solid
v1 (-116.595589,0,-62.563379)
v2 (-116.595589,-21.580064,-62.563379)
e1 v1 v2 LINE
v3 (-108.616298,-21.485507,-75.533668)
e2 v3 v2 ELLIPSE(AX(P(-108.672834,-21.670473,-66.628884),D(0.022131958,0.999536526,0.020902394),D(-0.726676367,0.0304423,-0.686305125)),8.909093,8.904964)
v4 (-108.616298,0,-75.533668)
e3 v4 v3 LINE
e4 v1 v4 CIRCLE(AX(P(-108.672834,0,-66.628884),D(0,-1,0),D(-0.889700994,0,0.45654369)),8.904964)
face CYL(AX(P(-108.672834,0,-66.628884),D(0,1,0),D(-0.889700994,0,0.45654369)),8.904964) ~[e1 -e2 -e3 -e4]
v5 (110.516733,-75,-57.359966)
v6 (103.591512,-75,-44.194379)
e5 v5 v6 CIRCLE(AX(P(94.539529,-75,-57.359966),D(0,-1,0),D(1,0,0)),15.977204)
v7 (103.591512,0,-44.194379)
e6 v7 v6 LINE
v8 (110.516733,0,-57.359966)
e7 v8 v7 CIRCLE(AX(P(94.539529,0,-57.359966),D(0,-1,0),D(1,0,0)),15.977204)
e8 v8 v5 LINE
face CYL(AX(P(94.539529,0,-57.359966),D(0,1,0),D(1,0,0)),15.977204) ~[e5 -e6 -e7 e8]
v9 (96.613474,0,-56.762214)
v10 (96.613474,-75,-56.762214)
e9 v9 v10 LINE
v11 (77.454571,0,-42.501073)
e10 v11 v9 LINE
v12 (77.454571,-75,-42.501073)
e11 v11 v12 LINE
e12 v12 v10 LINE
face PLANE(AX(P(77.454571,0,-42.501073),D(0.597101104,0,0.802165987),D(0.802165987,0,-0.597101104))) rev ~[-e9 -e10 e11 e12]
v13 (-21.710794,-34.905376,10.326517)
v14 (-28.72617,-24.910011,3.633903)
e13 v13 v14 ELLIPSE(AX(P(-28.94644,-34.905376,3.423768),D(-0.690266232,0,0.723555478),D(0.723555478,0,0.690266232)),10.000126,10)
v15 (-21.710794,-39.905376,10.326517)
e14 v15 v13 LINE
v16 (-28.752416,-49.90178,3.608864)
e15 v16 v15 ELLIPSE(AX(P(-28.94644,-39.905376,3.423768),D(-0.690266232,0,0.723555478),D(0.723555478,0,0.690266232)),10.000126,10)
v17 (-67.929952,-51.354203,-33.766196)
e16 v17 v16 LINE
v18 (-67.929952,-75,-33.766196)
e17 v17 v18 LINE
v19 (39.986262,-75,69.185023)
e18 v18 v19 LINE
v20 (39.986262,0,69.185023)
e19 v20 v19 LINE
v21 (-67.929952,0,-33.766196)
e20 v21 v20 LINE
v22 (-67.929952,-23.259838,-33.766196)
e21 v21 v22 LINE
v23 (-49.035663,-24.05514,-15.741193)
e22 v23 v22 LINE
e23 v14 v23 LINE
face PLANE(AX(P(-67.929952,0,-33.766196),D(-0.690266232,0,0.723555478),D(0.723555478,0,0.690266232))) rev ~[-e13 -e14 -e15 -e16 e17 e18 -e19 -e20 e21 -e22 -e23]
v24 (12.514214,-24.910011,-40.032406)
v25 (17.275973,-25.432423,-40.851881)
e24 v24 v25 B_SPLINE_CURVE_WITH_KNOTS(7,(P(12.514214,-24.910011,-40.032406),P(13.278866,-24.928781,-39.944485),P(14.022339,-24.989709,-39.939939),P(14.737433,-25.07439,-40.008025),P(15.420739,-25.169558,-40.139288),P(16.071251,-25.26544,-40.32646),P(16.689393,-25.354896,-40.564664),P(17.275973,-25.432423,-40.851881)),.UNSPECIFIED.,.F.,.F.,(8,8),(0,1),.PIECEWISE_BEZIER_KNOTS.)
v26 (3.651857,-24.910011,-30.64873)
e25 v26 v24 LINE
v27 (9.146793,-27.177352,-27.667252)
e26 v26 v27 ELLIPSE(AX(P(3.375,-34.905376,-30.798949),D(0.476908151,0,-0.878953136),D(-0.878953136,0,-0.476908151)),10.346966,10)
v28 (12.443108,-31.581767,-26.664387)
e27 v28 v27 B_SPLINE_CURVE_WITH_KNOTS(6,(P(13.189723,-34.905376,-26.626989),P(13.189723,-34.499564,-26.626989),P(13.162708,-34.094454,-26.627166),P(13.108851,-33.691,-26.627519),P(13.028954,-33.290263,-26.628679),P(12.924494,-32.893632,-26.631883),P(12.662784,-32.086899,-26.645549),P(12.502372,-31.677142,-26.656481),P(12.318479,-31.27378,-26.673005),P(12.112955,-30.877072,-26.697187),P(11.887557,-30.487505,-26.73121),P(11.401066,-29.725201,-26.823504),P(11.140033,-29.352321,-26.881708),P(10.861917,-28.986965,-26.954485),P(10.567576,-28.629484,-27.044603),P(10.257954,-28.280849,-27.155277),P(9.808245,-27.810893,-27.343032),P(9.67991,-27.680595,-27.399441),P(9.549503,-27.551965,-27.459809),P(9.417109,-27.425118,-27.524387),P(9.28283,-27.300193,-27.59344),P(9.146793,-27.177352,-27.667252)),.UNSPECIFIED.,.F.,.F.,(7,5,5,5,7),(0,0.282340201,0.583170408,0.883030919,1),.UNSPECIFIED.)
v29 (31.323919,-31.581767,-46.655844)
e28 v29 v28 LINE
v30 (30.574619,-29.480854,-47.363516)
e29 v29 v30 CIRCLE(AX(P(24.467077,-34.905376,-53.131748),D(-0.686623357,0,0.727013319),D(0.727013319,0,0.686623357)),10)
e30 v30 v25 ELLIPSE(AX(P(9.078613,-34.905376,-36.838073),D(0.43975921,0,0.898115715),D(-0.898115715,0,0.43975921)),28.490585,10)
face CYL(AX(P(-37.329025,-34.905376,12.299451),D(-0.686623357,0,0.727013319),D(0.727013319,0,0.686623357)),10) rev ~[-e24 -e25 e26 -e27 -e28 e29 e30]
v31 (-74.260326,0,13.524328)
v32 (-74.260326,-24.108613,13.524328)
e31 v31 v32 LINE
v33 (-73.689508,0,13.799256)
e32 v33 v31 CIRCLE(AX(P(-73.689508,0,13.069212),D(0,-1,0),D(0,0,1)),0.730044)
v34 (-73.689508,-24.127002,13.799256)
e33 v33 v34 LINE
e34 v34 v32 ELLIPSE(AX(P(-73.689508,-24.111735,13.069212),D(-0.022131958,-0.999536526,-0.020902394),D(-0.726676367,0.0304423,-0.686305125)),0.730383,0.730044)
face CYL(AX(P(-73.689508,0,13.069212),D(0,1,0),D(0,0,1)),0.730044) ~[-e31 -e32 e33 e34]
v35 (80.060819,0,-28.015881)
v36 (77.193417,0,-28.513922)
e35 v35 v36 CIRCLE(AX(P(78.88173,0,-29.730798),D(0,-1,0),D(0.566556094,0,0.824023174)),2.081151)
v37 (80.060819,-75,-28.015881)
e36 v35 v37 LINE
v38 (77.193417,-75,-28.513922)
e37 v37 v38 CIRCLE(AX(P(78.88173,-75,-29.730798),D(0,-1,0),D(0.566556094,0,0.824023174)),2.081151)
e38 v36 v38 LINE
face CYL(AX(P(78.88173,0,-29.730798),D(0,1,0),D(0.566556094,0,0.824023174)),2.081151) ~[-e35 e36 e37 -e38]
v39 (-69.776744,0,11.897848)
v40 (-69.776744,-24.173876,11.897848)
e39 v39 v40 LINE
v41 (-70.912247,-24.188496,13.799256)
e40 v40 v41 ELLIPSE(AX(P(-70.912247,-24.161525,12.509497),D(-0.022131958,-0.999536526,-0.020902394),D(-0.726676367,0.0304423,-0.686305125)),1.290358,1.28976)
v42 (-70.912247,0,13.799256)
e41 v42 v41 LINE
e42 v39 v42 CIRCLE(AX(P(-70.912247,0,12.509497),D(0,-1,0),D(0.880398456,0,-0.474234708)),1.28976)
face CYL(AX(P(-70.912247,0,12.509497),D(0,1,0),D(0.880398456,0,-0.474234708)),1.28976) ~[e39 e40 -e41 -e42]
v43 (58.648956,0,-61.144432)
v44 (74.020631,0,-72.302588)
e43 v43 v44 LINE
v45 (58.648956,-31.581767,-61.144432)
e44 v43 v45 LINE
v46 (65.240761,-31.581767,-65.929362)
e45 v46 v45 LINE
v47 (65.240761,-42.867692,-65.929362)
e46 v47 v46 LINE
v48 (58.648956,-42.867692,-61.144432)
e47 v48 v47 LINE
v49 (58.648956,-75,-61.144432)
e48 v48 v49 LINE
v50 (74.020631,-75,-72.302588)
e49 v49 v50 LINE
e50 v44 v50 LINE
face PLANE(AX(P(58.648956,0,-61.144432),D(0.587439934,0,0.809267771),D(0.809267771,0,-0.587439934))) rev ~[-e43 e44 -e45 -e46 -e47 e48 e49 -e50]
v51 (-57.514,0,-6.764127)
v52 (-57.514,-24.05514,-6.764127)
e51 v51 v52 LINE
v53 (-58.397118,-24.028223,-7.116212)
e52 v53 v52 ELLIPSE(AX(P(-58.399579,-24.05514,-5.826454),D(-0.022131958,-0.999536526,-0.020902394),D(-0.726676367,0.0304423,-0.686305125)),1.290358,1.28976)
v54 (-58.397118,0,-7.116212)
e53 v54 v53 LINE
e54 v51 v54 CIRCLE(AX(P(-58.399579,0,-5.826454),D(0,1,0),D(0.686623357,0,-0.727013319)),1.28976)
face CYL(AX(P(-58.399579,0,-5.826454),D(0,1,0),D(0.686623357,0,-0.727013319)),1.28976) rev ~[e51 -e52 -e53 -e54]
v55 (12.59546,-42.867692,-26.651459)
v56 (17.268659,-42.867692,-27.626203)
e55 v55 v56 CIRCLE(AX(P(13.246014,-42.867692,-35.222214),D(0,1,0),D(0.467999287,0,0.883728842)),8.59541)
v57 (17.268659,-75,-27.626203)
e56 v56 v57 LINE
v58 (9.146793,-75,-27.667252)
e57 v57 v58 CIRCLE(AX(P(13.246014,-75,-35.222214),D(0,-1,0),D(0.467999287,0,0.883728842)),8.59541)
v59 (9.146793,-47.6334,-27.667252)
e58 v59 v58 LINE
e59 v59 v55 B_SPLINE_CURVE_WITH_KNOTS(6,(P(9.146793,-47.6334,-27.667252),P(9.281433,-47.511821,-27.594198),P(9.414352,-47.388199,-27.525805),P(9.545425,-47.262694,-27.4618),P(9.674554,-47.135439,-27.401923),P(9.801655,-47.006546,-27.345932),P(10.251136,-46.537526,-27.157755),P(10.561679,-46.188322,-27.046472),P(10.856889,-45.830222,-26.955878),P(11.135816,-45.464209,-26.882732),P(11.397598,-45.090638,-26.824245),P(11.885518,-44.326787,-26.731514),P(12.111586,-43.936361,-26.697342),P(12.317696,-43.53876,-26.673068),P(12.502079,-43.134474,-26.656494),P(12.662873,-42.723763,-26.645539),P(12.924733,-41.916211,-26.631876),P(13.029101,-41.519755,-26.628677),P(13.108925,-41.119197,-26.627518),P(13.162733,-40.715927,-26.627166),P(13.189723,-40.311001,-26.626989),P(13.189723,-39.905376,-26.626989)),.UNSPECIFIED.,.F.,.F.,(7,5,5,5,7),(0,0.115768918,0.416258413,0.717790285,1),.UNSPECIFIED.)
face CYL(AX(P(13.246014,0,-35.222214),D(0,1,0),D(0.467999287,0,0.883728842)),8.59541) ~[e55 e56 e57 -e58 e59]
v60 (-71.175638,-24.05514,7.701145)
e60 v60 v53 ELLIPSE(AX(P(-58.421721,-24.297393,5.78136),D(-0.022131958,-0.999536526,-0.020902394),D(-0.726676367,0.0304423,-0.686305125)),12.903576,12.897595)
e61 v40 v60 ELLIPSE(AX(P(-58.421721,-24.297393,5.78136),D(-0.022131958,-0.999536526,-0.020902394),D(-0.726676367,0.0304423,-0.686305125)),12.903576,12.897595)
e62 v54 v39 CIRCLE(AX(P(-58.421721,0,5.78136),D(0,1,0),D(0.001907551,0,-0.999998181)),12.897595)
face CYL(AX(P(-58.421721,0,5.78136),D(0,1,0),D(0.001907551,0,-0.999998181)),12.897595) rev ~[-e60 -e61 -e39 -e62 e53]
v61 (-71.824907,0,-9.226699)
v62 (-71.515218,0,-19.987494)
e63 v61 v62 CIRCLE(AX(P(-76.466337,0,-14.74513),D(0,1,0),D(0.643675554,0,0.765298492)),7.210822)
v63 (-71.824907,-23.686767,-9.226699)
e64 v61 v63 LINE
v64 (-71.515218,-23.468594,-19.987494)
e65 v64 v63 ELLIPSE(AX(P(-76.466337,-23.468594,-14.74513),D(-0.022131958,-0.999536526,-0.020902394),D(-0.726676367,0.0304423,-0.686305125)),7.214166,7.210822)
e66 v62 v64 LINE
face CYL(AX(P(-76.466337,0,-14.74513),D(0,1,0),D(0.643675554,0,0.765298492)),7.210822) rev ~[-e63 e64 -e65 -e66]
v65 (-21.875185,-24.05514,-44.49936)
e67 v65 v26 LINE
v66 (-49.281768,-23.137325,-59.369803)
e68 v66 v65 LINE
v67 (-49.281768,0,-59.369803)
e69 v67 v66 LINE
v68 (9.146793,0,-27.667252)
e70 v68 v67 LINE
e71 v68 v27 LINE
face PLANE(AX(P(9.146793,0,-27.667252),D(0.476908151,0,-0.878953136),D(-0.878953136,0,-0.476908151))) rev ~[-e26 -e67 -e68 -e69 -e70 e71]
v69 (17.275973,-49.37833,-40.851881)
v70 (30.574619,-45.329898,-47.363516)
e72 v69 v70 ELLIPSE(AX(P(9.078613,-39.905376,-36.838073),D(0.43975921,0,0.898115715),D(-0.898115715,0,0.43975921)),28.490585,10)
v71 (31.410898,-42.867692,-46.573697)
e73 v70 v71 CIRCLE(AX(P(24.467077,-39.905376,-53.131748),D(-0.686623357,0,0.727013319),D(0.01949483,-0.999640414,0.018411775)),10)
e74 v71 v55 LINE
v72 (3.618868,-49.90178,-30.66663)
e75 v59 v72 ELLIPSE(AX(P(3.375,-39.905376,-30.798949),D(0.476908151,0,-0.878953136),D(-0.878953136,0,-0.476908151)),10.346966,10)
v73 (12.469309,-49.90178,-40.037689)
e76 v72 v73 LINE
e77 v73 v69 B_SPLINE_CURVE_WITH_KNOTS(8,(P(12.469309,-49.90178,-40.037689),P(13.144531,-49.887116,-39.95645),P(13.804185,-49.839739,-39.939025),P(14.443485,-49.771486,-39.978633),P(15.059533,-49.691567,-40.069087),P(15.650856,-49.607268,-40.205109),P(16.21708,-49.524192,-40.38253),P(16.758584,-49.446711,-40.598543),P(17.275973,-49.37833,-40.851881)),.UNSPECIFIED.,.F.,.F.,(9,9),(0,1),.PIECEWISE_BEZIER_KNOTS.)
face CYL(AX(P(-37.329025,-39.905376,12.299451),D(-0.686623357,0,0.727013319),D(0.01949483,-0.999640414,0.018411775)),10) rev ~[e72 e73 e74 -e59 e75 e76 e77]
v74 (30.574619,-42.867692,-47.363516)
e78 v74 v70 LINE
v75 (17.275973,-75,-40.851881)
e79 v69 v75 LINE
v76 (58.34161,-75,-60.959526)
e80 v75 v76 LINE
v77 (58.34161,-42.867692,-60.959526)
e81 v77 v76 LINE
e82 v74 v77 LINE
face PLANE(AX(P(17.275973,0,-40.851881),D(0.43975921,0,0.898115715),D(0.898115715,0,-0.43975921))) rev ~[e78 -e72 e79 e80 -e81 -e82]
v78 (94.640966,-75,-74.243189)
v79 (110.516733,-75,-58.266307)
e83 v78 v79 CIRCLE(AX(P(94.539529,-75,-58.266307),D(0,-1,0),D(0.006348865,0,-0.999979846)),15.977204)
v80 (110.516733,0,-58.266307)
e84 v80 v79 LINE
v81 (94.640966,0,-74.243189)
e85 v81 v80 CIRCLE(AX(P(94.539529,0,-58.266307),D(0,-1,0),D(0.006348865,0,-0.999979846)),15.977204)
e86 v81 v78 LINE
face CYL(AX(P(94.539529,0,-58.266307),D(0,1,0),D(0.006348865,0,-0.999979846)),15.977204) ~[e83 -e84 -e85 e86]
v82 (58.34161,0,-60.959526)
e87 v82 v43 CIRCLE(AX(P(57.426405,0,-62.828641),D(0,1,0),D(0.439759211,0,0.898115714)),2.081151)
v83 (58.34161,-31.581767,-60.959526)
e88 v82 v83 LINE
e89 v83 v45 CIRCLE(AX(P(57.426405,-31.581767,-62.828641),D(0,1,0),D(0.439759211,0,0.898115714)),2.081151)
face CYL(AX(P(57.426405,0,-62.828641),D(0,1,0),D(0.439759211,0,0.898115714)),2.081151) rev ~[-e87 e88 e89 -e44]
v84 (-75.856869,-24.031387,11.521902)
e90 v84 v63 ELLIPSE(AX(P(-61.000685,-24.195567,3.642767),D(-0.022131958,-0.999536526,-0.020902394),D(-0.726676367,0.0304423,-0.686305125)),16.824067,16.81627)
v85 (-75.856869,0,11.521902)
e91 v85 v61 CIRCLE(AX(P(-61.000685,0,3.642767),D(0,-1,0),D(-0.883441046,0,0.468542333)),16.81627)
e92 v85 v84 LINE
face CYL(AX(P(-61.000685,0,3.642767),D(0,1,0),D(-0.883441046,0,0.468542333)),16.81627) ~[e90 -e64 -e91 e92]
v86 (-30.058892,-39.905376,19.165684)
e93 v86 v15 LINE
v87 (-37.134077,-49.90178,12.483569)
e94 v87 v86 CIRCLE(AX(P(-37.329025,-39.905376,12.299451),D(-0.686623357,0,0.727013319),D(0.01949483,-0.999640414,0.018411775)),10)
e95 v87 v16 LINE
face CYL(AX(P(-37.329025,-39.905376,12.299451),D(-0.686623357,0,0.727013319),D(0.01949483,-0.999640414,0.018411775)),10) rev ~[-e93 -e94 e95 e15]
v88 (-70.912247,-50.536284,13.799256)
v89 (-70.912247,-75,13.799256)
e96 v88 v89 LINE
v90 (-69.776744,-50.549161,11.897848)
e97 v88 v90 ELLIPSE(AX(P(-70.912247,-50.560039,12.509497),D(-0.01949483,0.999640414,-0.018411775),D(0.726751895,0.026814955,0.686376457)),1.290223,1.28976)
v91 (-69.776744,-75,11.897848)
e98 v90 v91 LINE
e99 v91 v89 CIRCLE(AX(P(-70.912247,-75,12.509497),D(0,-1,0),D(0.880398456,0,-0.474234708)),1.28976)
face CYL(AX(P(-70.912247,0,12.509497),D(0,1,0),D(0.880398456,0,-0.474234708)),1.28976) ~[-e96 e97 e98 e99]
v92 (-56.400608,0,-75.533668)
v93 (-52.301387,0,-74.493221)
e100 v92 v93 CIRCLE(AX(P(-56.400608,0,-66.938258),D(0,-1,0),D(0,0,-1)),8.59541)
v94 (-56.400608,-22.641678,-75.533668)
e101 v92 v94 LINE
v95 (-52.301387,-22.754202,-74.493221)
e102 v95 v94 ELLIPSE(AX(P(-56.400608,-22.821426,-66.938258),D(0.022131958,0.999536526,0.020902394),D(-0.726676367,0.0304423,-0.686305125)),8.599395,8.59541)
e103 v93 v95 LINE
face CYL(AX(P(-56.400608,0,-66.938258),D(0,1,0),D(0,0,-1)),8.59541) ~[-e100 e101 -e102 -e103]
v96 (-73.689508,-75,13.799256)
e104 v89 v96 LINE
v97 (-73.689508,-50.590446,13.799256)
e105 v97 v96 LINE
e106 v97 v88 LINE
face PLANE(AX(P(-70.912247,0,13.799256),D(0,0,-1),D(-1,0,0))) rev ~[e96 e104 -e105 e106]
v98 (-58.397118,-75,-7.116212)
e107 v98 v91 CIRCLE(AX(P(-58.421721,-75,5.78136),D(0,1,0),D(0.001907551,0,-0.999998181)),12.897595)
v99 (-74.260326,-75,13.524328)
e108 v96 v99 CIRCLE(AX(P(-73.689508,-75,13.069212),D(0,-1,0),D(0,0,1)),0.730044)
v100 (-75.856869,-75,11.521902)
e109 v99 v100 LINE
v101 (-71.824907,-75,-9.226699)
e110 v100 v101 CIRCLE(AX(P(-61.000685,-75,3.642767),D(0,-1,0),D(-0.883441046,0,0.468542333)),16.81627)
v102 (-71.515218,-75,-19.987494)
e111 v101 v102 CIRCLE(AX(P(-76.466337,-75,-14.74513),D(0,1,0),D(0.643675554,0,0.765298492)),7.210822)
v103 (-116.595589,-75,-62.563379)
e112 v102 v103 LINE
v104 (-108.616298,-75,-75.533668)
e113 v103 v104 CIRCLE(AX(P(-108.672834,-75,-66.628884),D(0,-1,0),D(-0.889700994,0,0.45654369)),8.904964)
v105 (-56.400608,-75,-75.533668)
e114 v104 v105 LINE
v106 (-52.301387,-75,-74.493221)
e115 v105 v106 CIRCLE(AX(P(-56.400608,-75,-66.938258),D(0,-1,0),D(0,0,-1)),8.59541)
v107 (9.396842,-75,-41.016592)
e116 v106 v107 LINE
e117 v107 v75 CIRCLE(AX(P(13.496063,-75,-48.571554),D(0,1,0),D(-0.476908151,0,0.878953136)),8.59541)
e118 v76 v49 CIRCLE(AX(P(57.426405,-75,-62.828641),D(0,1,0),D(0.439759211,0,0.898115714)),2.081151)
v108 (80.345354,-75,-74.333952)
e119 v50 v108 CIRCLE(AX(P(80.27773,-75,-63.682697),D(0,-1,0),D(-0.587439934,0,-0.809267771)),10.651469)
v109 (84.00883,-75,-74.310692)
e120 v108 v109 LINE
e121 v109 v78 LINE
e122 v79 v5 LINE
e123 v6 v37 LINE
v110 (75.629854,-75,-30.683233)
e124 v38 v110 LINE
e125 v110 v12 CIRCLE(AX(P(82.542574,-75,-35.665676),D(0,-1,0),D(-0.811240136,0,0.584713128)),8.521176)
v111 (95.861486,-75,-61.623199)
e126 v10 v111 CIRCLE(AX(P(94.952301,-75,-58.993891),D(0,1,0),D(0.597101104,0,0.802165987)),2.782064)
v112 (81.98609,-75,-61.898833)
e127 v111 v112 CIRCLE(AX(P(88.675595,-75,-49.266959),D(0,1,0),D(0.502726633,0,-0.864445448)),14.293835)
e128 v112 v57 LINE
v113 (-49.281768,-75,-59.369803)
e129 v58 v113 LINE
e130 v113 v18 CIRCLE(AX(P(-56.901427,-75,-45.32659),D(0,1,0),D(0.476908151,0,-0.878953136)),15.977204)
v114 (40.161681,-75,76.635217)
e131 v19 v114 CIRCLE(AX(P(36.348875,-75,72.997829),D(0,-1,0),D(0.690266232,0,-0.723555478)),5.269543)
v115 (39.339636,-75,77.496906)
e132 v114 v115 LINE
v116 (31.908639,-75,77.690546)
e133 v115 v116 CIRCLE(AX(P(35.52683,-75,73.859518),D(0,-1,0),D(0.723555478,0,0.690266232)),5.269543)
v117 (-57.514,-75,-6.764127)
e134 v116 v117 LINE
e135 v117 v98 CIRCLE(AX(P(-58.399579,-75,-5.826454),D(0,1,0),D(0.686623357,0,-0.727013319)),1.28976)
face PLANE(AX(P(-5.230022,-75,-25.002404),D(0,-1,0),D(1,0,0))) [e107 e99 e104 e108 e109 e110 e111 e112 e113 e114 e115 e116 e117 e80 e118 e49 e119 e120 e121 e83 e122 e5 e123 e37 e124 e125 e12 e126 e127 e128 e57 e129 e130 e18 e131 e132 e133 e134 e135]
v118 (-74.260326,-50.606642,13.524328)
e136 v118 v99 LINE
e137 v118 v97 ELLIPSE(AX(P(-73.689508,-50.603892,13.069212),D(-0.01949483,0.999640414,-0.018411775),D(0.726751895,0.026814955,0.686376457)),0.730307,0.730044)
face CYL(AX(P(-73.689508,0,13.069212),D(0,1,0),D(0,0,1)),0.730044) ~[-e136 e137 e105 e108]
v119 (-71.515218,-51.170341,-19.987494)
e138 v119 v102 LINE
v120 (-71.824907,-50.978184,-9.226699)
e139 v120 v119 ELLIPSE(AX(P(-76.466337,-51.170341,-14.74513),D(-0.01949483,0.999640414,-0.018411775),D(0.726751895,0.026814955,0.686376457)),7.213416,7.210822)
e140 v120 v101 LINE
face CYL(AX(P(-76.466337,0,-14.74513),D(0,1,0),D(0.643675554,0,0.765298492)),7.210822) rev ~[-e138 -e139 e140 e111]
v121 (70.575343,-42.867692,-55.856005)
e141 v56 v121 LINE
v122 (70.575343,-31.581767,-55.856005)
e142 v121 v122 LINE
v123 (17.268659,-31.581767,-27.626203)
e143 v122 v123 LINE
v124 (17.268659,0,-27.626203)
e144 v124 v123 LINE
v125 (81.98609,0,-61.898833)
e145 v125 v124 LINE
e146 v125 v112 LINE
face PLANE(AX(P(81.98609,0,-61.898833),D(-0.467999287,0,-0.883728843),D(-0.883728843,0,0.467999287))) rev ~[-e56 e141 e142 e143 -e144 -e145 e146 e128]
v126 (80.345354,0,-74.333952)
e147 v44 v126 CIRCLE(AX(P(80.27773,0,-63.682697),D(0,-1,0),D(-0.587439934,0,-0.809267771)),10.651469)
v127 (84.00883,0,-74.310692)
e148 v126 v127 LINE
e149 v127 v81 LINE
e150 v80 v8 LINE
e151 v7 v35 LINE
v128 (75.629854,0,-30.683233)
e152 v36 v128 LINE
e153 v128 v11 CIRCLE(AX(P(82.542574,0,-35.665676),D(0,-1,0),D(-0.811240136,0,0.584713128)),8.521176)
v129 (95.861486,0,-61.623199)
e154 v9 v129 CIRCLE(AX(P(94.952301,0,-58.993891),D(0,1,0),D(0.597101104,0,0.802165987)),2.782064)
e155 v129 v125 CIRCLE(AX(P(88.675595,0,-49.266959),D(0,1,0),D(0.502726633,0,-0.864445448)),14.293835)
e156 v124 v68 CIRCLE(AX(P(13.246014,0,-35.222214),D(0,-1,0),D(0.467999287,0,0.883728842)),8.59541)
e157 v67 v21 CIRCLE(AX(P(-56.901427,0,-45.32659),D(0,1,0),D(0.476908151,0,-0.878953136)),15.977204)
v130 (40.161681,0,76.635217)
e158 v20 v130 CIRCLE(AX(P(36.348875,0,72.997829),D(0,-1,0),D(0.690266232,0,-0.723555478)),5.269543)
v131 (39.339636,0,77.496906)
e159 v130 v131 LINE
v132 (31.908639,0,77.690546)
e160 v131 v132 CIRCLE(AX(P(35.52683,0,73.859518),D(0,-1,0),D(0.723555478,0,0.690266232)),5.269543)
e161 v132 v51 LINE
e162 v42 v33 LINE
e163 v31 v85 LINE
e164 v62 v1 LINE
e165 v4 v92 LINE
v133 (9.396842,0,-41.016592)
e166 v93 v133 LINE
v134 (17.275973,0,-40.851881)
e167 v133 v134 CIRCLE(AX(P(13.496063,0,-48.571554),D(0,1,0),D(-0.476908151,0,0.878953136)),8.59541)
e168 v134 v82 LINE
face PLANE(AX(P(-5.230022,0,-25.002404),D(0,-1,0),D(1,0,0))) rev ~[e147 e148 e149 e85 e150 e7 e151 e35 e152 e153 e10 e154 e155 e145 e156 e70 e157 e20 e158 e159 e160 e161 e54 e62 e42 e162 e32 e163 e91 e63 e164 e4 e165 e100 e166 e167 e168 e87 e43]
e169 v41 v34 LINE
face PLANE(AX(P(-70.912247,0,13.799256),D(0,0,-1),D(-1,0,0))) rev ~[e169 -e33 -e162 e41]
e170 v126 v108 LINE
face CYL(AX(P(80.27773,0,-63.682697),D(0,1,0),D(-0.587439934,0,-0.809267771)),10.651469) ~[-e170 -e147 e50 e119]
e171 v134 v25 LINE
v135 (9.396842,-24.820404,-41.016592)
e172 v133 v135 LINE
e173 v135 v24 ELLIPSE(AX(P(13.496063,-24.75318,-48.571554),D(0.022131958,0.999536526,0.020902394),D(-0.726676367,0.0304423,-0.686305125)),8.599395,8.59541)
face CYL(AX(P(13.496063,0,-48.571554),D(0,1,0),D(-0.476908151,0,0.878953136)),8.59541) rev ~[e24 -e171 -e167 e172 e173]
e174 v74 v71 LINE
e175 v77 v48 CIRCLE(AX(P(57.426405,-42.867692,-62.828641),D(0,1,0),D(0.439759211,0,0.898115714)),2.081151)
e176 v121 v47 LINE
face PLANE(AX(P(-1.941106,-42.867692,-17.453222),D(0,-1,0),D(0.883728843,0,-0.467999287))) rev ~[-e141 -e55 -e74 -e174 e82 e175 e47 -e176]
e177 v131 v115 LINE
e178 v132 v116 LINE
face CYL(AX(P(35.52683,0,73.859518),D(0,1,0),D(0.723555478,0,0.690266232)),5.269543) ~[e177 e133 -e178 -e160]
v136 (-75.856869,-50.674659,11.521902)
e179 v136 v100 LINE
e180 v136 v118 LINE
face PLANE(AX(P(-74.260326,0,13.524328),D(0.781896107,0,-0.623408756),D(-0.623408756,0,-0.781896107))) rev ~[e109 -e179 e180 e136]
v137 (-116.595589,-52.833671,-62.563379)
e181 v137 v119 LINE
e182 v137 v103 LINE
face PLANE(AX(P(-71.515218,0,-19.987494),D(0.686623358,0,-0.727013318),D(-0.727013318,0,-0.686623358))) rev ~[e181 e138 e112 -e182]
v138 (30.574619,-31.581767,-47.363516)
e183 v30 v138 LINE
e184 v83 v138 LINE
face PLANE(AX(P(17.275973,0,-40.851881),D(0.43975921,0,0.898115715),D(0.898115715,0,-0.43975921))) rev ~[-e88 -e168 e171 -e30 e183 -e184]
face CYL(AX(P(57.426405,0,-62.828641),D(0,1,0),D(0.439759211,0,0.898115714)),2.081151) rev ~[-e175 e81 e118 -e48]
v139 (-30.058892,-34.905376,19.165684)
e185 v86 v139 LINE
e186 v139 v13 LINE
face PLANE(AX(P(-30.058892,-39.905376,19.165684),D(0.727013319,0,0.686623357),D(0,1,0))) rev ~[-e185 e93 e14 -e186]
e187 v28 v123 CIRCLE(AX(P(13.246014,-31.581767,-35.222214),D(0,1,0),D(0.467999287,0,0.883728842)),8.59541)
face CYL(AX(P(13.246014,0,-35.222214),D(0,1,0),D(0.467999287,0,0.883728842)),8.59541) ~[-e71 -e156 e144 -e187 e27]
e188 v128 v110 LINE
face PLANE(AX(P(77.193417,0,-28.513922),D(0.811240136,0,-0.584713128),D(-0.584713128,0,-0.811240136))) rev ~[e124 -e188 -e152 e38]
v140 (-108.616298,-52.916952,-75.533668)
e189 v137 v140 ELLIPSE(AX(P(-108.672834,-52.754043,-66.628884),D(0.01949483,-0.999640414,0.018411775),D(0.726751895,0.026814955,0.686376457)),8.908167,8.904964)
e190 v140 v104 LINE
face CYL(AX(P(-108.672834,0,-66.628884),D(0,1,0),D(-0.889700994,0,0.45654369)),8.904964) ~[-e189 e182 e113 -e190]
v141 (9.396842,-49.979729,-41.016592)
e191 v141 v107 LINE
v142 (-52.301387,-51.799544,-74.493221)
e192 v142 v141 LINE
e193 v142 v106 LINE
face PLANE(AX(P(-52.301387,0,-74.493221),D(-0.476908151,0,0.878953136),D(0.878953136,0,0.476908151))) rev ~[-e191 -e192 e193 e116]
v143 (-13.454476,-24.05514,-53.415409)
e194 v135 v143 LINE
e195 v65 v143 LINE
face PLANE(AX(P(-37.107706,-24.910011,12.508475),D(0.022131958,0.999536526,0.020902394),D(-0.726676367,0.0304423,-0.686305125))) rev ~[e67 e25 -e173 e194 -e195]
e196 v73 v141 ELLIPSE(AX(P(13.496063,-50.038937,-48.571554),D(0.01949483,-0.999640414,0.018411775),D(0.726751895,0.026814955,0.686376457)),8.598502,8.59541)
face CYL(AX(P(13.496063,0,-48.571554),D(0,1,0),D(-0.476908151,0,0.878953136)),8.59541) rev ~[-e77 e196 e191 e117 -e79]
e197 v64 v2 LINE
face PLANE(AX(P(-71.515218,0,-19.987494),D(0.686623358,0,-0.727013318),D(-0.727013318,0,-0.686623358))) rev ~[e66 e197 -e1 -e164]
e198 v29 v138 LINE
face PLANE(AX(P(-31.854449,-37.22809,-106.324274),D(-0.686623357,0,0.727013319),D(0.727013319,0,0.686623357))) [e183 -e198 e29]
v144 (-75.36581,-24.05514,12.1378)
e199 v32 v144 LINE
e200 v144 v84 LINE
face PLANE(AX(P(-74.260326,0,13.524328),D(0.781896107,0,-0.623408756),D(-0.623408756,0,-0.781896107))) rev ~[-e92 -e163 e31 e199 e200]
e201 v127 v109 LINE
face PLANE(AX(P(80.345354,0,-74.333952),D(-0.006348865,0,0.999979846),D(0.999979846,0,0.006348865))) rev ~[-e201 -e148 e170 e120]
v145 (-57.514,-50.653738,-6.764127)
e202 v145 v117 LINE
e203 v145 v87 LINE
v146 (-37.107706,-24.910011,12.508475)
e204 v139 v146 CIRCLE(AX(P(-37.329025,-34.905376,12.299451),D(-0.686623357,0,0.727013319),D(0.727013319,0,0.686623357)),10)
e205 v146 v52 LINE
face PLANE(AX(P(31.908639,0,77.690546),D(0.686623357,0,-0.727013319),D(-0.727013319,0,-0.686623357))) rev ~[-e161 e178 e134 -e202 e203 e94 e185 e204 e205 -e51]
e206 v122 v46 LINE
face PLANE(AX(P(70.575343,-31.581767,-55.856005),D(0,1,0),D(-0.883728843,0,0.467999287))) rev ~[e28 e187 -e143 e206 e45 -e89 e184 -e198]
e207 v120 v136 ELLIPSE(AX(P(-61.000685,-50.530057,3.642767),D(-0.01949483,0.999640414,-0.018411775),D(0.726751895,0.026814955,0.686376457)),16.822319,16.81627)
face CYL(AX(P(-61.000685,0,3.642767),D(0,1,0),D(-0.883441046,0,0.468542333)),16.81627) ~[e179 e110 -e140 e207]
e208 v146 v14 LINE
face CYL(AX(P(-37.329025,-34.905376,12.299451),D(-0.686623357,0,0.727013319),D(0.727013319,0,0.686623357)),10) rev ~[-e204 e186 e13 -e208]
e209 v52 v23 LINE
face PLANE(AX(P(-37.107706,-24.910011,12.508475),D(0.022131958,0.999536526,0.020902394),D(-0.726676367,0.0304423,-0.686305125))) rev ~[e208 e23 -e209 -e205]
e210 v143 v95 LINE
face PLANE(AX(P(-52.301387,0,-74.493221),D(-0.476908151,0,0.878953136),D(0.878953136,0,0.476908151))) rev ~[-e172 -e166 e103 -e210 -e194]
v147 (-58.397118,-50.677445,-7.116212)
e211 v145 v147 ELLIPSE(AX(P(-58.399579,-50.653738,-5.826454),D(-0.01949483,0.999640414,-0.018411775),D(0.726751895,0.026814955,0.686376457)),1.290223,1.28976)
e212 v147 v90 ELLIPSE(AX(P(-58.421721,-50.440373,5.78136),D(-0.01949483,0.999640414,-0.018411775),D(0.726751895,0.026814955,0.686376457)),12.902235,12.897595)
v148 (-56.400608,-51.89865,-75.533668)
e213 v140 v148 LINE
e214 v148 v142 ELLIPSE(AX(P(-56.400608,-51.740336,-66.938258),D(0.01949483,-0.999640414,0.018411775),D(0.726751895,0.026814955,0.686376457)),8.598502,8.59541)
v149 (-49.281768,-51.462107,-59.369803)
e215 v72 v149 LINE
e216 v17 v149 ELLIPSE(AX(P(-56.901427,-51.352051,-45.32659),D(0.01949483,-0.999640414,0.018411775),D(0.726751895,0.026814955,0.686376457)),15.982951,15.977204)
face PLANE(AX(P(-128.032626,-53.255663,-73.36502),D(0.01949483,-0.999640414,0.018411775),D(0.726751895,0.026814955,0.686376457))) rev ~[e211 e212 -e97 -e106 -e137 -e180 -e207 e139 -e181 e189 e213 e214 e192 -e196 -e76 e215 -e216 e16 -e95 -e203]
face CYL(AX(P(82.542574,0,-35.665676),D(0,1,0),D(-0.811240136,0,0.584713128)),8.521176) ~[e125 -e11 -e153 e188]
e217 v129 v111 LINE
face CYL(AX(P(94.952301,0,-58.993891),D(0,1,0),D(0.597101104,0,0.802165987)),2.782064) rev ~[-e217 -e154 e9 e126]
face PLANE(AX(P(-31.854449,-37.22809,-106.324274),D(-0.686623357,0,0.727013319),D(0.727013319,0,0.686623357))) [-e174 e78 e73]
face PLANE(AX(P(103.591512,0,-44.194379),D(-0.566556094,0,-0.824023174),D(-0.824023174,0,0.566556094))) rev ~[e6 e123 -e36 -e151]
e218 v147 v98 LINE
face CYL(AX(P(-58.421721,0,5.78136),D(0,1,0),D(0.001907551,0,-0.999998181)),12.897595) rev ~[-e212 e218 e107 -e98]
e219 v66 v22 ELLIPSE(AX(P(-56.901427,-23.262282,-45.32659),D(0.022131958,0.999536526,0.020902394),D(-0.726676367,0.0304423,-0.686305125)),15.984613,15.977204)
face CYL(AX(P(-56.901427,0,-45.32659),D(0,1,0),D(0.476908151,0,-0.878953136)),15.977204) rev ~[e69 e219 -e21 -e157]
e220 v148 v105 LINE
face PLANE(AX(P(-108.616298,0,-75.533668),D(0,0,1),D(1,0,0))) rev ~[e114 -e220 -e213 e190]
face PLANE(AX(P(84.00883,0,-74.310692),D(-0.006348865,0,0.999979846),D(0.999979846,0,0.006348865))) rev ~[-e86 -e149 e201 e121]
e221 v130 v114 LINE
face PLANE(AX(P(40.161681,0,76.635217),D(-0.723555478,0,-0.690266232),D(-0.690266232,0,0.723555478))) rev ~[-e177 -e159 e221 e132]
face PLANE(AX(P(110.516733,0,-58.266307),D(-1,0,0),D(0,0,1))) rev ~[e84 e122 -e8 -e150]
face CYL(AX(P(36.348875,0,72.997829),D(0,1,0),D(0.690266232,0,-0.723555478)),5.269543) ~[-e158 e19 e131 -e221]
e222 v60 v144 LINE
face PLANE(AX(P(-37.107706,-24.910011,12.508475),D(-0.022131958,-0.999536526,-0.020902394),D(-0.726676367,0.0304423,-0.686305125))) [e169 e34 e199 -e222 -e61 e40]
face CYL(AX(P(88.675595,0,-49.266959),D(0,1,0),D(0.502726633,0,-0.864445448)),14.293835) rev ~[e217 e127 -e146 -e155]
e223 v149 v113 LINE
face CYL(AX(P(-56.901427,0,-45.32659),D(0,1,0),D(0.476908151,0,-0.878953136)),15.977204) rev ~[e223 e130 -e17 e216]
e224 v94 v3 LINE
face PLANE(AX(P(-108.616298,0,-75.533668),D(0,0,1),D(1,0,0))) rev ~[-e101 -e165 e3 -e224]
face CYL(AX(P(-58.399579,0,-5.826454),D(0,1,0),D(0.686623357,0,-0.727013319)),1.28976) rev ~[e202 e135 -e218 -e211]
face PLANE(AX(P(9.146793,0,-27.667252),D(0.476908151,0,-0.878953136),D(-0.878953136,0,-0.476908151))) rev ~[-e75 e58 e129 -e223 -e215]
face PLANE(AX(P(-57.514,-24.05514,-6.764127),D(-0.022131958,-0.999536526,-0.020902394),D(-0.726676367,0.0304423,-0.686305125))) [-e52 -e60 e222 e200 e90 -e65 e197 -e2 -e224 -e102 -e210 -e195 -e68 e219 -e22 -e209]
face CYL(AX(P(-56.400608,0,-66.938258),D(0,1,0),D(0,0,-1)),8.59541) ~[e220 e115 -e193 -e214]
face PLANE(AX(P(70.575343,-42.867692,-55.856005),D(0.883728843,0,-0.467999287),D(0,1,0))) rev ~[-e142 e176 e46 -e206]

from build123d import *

# Parameters (mm, degrees)
F1_DEPTH      = 75
F3_DEPTH      = 30
F3_DEPTH_BACK = 90
F4_W          = 60.3201809678
F4_H          = 11.285925284
F5_DEPTH      = 25
F5_DEPTH_BACK = 10


with BuildPart() as f1:
    # F0 (on Front) → F1 (new body)
    with BuildSketch(Plane.XZ):
        with BuildLine():
            Line((31.9086386453, 77.6905462364), (-57.5139995569, -6.7641266773))
            ThreePointArc((-57.5139995569, -6.7641266773), (-57.9219339607, -7.0245091068), (-58.3971183008, -7.1162115075))
            ThreePointArc((-58.3971183008, -7.1162115075), (-69.4887089259, -0.8420637784), (-69.7767442137, 11.8978478381))
            ThreePointArc((-69.7767442137, 11.8978478381), (-69.8049165196, 13.1707831552), (-70.9122465225, 13.7992561182))
            Line((-70.9122465225, 13.7992561182), (-73.6895077641, 13.7992561182))
            ThreePointArc((-73.6895077641, 13.7992561182), (-74.0062961207, 13.726942606), (-74.2603264098, 13.5243278998))
            Line((-74.2603264098, 13.5243278998), (-75.8568685996, 11.5219015441))
            ThreePointArc((-75.8568685996, 11.5219015441), (-77.5081657489, 0.4349594479), (-71.8249073519, -9.226698863))
            ThreePointArc((-71.8249073519, -9.226698863), (-69.2584995586, -14.5376929324), (-71.5152183851, -19.9874935806))
            Line((-71.5152183851, -19.9874935806), (-116.5955893061, -62.5633788748))
            ThreePointArc((-116.5955893061, -62.5633788748), (-116.2574535182, -71.2949238612), (-108.6162978034, -75.5336681331))
            Line((-108.6162978034, -75.5336681331), (-56.4006080373, -75.5336681323))
            ThreePointArc((-56.4006080373, -75.5336681323), (-54.2860073929, -75.2694967603), (-52.3013870442, -74.4932207332))
            Line((-52.3013870442, -74.4932207332), (9.3968417232, -41.0165915738))
            ThreePointArc((9.3968417232, -41.0165915738), (13.3164182298, -39.9780216691), (17.2759733413, -40.8518813589))
            Line((17.2759733413, -40.8518813589), (58.3416101428, -60.9595264103))
            ThreePointArc((58.3416101428, -60.9595264103), (58.4992740431, -61.0453458085), (58.6489560893, -61.1444324351))
            Line((58.6489560893, -61.1444324351), (74.0206310135, -72.3025880245))
            ThreePointArc((74.0206310135, -72.3025880245), (77.0205825857, -73.8239393845), (80.345354257, -74.3339518648))
            Line((80.345354257, -74.3339518648), (84.008830193, -74.3106924806))
            Line((84.008830193, -74.3106924806), (94.6409664598, -74.2431891184))
            ThreePointArc((94.6409664598, -74.2431891184), (105.8729254369, -69.5279758333), (110.516733495, -58.2663069736))
            Line((110.516733495, -58.2663069736), (110.516733495, -57.3599657599))
            ThreePointArc((110.516733495, -57.3599657599), (108.6798338491, -49.9220331846), (103.5915117273, -44.1943792767))
            Line((103.5915117273, -44.1943792767), (80.0608191671, -28.0158812776))
            ThreePointArc((80.0608191671, -28.0158812776), (78.5255862483, -27.6803464363), (77.1934165925, -28.5139217195))
            Line((77.1934165925, -28.5139217195), (75.6298542432, -30.6832325702))
            ThreePointArc((75.6298542432, -30.6832325702), (74.1211917974, -36.9659668973), (77.4545705219, -42.5010729739))
            Line((77.4545705219, -42.5010729739), (96.61347436, -56.7622144645))
            ThreePointArc((96.61347436, -56.7622144645), (97.7016607764, -59.4192137179), (95.8614861172, -61.6231991836))
            ThreePointArc((95.8614861172, -61.6231991836), (88.9594846076, -63.5579741018), (81.9860902339, -61.8988328387))
            Line((81.9860902339, -61.8988328387), (17.2686592302, -27.626202898))
            ThreePointArc((17.2686592302, -27.626202898), (13.2025716128, -26.6269144318), (9.1467925766, -27.6672520504))
            Line((9.1467925766, -27.6672520504), (-49.2817682282, -59.3698033465))
            ThreePointArc((-49.2817682282, -59.3698033465), (-69.8161964781, -54.7329590263), (-67.9299516201, -33.7661960635))
            Line((-67.9299516201, -33.7661960635), (39.9862620913, 69.185022562))
            ThreePointArc((39.9862620913, 69.185022562), (41.616957342, 72.8737890727), (40.1616811978, 76.6352165564))
            Line((40.1616811978, 76.6352165564), (39.3396363558, 77.4969058889))
            ThreePointArc((39.3396363558, 77.4969058889), (35.6640993707, 79.1272730212), (31.9086386453, 77.6905462364))
        make_face()
    extrude(amount=F1_DEPTH)

    # F2 (on face) → F3 (cut, two sides)
    with BuildSketch(Plane(origin=(-23.7385230795, 0, 25.1349189755), x_dir=(0.7270133187, 0, 0.686623357), z_dir=(-0.686623357, 0, 0.7270133187))) as f3_sk:
        Polygon((-46.4578510571, -24.0551400103), (-143.9990401268, -21.0843849927), (-143.4555607145, -53.2556629783), (-46.4578510571, -50.6537381076), align=None)
        with BuildLine():
            Line((-18.389185364, -24.9100109652), (-46.4578510571, -24.0551400103))
            Line((-46.4578510571, -24.0551400103), (-46.4578510571, -50.6537381076))
            Line((-46.4578510571, -50.6537381076), (-18.4254588112, -49.9017803673))
            ThreePointArc((-18.4254588112, -49.9017803673), (-11.5283625374, -46.8809946351), (-8.6936083649, -39.905376223))
            Line((-8.6936083649, -39.905376223), (-8.6936083649, -34.905376223))
            ThreePointArc((-8.6936083649, -34.905376223), (-11.5157176577, -27.9427700303), (-18.389185364, -24.9100109652))
        make_face()
    extrude(amount=F3_DEPTH, mode=Mode.SUBTRACT)
    extrude(f3_sk.sketch, amount=-F3_DEPTH_BACK, mode=Mode.SUBTRACT)

    # F4 (on face) → F5 (cut, two sides)
    with BuildSketch(Plane(origin=(-7.6435291417, 0, -14.433370614), x_dir=(0.8837288425, 0, -0.4679992873), z_dir=(0.4679992873, 0, 0.8837288425))) as f5_sk:
        with Locations((58.3499459846, -37.2247295454)):
            Rectangle(F4_W, F4_H)
        with BuildLine():
            ThreePointArc((3.452683799, -39.8676921874), (4.3313634554, -41.989012531), (6.452683799, -42.8676921874))
            Line((6.452683799, -42.8676921874), (28.1898555007, -42.8676921874))
            Line((28.1898555007, -42.8676921874), (28.1898555007, -31.5817669034))
            Line((28.1898555007, -31.5817669034), (6.452683799, -31.5817669034))
            ThreePointArc((6.452683799, -31.5817669034), (4.3313634554, -32.4604465598), (3.452683799, -34.5817669034))
            Line((3.452683799, -34.5817669034), (3.452683799, -39.8676921874))
        make_face()
    extrude(amount=-F5_DEPTH, mode=Mode.SUBTRACT)
    extrude(f5_sk.sketch, amount=F5_DEPTH_BACK, mode=Mode.SUBTRACT)


solid = f1.part
